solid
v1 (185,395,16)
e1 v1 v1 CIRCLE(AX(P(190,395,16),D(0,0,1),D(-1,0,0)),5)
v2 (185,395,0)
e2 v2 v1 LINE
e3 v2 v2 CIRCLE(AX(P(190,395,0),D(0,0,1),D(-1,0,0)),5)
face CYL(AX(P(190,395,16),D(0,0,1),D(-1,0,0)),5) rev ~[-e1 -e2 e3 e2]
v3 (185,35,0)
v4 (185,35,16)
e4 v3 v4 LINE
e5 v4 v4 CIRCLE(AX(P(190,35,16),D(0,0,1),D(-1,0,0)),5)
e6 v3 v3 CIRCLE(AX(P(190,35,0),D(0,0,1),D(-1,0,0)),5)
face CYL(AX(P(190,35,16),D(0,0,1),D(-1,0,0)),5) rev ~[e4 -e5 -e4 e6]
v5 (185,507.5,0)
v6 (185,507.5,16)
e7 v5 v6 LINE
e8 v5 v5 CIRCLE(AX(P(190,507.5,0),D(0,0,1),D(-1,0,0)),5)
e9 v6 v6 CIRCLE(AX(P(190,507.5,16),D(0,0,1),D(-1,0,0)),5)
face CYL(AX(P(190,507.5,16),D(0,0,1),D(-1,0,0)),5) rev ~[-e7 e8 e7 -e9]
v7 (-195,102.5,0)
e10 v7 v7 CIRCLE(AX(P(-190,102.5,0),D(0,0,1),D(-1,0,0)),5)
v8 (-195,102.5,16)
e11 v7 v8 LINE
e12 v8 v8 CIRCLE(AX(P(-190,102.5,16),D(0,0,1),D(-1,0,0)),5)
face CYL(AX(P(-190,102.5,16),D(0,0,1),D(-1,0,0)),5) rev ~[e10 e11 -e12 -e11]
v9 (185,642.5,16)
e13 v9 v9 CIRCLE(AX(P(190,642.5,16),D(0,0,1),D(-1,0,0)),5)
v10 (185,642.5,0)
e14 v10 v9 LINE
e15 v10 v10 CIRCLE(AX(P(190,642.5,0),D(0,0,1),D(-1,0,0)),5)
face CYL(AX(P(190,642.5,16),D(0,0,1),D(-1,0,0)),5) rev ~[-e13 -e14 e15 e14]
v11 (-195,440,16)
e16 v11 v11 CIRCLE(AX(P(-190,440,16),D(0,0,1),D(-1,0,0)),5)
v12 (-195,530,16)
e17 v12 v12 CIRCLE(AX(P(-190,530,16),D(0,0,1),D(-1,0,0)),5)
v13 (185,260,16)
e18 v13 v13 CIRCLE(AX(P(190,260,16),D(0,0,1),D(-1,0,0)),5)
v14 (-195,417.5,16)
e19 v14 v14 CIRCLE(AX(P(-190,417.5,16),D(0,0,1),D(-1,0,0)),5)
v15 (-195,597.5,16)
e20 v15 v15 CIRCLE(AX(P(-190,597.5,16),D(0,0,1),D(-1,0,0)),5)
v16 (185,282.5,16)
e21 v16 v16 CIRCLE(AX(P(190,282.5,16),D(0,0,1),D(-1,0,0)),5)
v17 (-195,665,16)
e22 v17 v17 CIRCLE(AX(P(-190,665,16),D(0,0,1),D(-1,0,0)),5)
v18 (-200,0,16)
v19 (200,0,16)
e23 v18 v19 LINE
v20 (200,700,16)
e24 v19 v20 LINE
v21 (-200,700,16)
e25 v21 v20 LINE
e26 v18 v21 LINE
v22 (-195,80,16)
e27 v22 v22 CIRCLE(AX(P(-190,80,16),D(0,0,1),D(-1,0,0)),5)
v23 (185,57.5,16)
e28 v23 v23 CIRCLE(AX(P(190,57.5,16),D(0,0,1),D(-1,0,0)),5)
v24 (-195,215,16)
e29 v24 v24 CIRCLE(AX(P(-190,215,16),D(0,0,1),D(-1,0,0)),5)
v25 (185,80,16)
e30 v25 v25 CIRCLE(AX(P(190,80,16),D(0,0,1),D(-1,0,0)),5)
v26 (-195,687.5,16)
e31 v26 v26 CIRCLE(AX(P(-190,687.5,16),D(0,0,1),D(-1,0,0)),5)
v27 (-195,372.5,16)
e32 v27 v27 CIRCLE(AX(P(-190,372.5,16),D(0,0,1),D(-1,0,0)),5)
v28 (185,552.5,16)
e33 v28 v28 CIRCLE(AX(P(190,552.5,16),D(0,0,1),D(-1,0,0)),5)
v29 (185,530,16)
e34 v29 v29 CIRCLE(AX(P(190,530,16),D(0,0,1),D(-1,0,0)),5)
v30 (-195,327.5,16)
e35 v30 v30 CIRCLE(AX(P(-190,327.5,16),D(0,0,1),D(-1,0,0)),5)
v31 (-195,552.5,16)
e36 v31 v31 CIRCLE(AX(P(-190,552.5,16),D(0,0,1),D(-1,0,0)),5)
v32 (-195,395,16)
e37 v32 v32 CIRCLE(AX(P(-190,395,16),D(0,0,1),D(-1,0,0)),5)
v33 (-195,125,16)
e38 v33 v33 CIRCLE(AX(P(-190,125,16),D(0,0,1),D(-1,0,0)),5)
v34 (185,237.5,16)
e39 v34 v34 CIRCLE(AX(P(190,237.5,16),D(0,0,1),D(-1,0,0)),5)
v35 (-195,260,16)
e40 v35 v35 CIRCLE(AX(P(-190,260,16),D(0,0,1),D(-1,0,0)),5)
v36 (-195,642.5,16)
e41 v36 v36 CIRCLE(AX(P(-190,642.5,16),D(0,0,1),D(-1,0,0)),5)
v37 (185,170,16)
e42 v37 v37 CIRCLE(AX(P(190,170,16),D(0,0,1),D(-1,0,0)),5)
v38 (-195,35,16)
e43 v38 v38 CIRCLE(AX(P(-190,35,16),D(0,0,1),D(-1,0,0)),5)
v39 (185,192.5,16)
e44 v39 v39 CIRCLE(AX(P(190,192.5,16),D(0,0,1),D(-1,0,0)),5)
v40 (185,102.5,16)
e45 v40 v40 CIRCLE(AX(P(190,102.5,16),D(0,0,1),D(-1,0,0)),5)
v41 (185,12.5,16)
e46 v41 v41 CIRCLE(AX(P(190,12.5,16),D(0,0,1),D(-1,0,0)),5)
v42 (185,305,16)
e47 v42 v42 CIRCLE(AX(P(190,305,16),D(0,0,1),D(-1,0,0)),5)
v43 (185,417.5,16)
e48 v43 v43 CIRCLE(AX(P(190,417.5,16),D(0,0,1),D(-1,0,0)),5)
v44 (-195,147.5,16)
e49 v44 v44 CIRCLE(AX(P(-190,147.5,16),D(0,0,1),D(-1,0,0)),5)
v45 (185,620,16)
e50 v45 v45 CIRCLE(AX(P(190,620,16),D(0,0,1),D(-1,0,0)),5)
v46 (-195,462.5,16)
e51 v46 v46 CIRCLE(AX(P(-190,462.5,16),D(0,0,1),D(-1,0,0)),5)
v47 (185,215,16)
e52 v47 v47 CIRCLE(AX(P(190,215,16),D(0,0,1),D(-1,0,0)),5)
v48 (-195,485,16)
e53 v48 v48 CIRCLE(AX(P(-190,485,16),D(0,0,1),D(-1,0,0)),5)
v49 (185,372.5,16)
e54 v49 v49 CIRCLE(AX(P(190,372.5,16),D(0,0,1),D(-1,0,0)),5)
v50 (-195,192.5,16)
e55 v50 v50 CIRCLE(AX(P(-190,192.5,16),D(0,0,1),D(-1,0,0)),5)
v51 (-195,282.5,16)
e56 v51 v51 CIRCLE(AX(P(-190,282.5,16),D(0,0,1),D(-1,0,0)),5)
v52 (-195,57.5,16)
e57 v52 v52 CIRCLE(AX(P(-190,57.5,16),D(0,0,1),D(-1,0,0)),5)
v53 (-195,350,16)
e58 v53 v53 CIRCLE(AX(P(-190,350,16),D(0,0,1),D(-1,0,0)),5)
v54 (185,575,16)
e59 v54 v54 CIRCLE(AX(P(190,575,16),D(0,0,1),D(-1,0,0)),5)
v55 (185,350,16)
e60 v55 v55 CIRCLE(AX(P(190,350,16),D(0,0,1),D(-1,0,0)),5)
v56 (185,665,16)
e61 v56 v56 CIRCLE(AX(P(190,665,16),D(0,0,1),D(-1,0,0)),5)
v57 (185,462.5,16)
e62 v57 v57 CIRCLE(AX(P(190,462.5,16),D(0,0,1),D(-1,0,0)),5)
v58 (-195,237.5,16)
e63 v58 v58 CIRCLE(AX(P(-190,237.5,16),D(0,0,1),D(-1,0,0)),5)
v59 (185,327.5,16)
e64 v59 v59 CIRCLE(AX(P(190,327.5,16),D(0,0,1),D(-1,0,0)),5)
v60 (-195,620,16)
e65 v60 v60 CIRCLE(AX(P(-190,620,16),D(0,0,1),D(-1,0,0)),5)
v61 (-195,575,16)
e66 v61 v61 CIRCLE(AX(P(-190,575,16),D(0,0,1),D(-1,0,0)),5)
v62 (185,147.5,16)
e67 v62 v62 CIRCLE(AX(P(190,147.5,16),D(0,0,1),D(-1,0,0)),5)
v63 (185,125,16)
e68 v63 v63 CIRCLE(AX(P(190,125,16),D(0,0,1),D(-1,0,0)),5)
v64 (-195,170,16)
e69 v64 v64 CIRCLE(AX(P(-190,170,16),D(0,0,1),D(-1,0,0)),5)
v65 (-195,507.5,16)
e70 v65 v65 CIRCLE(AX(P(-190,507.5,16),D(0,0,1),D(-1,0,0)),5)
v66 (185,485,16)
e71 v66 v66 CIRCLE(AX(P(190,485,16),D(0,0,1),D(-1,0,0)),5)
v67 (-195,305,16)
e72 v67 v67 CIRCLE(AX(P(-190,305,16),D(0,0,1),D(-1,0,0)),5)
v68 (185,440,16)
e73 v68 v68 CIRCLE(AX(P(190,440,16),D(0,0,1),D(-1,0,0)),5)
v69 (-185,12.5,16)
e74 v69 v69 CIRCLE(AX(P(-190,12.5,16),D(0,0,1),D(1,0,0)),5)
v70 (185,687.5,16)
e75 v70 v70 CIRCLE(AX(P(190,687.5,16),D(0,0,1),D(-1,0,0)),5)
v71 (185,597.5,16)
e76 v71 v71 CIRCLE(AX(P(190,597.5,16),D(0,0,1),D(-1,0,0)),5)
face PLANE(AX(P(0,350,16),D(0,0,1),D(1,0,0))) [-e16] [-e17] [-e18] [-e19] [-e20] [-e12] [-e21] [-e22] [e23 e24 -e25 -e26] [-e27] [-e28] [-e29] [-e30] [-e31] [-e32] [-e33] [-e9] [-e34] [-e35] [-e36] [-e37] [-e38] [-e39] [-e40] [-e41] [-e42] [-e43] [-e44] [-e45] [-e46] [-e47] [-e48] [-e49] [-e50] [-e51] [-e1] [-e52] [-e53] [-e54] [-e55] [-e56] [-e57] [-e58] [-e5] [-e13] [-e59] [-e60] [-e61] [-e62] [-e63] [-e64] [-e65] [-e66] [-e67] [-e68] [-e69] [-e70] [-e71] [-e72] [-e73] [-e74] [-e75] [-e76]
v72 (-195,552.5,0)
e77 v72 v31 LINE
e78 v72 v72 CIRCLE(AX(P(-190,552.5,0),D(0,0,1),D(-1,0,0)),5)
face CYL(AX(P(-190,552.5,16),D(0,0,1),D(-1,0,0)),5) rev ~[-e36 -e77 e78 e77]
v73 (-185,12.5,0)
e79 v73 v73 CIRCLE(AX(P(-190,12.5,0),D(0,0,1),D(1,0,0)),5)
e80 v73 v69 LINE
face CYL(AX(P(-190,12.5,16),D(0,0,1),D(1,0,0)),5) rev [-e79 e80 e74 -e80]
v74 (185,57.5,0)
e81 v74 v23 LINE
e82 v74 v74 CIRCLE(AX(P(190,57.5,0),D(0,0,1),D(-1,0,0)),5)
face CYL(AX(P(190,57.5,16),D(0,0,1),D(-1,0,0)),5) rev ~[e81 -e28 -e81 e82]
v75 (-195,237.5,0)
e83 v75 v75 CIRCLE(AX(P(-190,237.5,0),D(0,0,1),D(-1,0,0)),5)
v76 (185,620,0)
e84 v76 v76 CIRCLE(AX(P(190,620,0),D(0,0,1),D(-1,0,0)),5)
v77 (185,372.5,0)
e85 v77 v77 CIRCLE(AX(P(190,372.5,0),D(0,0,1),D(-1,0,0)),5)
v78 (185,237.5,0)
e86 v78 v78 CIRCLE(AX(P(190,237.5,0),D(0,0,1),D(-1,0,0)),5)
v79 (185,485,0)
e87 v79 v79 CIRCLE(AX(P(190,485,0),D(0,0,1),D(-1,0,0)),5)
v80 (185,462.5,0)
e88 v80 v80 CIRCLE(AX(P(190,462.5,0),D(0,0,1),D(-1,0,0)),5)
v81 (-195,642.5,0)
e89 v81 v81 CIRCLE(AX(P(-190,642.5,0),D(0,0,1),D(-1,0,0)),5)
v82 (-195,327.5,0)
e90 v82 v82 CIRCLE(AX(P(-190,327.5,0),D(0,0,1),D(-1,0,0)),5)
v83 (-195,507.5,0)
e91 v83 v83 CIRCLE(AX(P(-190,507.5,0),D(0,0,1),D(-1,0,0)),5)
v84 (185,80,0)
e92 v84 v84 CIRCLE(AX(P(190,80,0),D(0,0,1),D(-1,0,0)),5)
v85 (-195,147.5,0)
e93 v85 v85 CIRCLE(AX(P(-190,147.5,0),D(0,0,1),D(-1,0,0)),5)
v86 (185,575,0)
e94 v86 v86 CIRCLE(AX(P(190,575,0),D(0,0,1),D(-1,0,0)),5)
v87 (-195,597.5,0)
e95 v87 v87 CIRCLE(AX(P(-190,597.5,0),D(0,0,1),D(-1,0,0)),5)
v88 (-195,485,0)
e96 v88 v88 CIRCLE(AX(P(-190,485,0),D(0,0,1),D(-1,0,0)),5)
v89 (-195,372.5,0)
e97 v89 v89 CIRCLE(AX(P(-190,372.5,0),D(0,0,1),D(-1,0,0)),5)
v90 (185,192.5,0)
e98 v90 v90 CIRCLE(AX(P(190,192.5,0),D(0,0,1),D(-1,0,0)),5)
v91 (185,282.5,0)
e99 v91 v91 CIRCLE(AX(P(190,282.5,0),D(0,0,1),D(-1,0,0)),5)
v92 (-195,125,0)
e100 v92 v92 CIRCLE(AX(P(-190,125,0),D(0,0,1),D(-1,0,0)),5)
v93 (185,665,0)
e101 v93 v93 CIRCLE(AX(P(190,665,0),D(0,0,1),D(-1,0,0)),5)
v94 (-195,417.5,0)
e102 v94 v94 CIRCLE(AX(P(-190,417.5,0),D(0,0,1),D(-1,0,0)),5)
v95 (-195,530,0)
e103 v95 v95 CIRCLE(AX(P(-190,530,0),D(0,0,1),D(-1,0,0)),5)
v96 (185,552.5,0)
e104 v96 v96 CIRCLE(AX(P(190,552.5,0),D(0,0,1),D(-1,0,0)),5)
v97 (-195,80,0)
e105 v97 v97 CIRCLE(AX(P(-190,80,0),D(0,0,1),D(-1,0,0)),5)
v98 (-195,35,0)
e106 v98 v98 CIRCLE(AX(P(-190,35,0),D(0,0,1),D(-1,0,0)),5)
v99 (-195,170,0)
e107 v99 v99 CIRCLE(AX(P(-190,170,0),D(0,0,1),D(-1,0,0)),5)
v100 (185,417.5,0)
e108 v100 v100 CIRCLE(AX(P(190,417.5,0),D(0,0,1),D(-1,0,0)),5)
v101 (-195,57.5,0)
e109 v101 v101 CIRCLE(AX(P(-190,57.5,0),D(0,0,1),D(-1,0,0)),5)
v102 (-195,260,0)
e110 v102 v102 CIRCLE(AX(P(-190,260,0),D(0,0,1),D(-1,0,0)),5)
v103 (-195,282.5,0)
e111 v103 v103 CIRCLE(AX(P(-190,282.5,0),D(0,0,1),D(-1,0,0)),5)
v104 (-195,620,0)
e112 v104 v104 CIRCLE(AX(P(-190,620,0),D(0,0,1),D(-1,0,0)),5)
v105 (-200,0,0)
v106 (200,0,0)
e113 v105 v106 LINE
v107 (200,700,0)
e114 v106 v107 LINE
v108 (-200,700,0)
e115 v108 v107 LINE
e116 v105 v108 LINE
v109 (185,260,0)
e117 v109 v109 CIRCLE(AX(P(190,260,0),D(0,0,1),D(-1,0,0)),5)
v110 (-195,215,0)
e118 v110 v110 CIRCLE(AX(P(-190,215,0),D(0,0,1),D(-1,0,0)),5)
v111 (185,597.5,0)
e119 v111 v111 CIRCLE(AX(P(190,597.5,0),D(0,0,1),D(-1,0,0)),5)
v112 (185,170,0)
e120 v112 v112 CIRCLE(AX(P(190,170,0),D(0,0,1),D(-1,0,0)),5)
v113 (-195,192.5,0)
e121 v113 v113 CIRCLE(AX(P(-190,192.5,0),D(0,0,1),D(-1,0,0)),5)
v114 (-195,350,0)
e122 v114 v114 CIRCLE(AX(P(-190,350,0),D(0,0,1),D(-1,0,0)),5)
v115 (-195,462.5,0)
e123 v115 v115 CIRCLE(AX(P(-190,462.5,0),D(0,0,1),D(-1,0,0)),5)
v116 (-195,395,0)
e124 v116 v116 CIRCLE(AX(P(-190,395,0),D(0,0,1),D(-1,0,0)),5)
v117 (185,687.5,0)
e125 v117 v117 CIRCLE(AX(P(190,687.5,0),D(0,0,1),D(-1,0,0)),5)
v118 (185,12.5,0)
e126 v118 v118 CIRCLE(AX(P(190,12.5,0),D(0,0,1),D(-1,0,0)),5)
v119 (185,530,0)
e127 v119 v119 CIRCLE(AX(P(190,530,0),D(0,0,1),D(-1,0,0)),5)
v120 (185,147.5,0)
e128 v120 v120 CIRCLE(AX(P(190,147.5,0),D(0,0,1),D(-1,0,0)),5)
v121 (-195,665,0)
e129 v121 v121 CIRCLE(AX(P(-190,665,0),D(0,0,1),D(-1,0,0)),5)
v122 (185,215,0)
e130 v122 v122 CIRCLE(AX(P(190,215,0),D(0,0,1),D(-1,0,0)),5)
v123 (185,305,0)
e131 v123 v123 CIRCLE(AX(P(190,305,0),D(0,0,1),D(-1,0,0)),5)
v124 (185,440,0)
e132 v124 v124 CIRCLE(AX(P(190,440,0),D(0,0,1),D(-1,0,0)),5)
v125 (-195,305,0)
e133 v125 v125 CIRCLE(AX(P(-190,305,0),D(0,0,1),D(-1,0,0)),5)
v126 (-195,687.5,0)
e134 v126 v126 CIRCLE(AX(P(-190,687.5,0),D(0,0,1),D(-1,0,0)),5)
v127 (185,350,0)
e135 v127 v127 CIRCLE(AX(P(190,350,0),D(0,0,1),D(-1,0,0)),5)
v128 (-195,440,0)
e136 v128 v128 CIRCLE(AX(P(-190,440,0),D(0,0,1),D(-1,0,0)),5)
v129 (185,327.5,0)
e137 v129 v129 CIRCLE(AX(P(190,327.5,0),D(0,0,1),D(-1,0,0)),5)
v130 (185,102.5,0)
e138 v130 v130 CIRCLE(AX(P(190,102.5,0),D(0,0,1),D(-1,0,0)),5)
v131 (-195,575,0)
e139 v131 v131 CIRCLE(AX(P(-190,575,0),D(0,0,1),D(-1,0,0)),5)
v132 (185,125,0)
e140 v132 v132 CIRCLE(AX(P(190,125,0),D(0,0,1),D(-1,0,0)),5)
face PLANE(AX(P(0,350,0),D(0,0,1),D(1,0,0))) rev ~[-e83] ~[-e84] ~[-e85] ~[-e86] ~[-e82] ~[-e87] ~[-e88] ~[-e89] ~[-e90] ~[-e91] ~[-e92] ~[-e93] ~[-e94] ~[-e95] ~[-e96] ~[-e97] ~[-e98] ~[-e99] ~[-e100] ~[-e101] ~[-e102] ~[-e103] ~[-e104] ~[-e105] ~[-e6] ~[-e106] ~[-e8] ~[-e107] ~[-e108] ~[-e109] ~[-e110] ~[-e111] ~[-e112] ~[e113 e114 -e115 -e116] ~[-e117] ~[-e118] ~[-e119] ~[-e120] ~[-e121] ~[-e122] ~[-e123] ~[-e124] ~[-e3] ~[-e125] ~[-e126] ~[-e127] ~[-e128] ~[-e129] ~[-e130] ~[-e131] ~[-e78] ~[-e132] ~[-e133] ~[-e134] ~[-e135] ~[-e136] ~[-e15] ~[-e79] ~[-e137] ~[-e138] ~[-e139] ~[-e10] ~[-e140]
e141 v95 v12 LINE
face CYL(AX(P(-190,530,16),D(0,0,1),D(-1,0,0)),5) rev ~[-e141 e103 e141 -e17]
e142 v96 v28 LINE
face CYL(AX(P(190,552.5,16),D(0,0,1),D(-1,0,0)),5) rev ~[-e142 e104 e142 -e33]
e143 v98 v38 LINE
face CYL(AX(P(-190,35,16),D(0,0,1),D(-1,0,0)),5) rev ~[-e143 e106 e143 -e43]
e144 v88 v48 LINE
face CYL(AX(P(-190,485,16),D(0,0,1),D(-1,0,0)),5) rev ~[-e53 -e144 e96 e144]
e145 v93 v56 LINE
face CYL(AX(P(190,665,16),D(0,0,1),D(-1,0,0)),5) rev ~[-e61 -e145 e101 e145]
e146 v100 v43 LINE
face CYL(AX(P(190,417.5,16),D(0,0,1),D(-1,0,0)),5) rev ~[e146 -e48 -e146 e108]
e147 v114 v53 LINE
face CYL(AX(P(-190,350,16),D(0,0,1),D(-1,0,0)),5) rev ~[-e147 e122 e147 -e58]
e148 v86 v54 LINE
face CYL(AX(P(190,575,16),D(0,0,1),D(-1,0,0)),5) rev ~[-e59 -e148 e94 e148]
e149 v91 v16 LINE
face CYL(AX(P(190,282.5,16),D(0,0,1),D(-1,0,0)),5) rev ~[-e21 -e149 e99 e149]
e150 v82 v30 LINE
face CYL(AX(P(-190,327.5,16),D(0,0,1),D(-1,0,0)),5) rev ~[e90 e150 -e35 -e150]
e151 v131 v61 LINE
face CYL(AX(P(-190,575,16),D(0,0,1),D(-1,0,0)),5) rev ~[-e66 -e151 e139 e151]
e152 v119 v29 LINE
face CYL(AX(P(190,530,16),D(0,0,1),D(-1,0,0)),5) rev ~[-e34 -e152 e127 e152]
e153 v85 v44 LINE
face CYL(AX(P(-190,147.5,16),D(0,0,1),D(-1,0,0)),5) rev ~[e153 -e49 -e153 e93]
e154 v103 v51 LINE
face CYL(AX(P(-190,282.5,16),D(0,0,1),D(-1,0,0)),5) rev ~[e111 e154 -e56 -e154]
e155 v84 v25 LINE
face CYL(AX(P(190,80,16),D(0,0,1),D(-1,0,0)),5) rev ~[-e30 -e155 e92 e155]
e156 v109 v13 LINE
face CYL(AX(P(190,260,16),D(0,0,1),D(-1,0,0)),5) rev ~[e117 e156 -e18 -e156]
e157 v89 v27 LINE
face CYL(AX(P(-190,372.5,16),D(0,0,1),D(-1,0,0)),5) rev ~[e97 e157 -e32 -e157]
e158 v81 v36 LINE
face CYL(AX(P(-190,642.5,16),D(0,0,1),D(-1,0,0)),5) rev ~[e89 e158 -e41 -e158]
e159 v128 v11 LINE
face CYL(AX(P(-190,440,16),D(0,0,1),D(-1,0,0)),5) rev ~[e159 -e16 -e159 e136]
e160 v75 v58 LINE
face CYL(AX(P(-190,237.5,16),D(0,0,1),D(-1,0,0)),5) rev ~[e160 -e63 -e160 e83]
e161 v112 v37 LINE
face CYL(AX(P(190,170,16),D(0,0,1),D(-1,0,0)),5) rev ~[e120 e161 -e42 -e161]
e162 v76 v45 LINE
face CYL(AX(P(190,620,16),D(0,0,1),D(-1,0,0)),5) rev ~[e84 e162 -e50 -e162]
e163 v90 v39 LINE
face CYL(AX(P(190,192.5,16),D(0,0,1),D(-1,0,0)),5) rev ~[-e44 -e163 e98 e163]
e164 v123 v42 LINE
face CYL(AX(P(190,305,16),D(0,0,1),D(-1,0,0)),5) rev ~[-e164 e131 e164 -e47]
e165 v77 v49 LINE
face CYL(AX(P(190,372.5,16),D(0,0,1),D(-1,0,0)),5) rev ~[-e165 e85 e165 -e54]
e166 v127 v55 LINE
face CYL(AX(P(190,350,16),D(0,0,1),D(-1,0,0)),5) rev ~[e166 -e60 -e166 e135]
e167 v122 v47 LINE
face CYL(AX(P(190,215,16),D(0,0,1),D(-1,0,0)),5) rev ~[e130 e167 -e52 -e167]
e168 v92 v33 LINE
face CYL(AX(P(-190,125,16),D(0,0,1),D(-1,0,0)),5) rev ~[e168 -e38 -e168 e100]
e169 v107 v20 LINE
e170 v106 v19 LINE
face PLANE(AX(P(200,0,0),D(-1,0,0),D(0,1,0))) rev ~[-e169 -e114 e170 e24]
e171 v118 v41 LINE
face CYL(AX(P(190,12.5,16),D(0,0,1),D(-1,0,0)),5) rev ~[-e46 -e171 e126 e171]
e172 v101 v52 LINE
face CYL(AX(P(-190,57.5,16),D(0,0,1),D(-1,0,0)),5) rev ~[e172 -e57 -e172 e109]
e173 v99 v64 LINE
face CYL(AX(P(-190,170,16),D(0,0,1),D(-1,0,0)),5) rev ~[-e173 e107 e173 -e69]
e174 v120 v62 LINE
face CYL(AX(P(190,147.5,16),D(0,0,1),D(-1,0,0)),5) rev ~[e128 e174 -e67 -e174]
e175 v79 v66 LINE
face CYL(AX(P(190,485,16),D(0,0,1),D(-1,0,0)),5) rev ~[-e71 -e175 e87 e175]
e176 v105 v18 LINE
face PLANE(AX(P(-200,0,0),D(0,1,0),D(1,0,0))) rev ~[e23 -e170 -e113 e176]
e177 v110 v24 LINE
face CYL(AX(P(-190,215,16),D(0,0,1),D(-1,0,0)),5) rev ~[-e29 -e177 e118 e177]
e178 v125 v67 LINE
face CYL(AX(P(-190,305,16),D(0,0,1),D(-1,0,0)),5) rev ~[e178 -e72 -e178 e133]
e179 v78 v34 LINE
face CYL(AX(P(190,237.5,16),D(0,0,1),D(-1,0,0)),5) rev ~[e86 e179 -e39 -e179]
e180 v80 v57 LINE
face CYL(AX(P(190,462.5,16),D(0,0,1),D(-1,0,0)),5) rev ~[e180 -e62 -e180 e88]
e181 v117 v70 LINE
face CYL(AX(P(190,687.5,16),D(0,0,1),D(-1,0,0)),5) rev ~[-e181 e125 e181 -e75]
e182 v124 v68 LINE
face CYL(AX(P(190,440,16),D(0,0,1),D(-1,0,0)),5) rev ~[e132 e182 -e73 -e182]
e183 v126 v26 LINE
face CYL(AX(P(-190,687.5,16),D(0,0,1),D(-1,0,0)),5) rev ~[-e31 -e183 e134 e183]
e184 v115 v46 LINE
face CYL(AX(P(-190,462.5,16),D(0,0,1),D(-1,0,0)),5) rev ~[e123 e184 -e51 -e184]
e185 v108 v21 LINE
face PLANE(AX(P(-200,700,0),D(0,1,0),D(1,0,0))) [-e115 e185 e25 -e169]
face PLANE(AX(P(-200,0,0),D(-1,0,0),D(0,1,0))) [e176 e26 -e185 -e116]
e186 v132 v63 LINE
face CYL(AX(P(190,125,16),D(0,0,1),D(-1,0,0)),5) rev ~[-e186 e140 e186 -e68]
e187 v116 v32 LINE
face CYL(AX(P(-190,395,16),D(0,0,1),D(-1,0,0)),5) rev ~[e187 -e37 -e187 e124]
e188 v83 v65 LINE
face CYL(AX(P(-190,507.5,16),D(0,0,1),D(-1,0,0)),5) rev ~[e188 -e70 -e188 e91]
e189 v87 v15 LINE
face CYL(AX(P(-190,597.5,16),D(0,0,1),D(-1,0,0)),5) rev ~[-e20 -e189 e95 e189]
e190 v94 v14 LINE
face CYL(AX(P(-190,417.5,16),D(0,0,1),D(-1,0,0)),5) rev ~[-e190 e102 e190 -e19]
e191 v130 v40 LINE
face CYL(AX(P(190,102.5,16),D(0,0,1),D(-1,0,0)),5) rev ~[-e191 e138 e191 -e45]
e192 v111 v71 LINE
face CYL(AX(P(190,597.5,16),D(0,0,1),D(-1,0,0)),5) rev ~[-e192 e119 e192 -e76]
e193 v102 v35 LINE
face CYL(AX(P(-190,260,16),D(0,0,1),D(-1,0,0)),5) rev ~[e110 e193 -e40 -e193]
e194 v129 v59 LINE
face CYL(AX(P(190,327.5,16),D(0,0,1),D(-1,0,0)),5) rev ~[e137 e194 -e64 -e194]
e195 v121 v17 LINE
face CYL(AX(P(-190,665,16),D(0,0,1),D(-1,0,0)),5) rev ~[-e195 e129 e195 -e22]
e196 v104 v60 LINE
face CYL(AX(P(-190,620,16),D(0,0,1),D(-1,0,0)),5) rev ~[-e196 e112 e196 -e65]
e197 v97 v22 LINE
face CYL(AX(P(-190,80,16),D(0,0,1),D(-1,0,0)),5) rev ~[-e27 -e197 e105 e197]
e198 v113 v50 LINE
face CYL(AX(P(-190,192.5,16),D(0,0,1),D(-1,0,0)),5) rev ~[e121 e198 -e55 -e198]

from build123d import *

# Parameters (mm, degrees)
SKETCH1_W                = 400
SKETCH1_H                = 700
BOSS_EXTRUDE1_DEPTH      = 16
SKETCH2_R                = 5
CUT_EXTRUDE1_DEPTH       = 729.186789224
LPATTERN1_COUNT          = 31
LPATTERN1_PITCH          = 22.5
MIRROR1_COPY_1_SKETCH_R  = 5
MIRROR1_COPY_1_DEPTH     = 729.186789224
MIRROR1_COPY_2_SKETCH_R  = 5
MIRROR1_COPY_2_DEPTH     = 729.186789224
MIRROR1_COPY_3_SKETCH_R  = 5
MIRROR1_COPY_3_DEPTH     = 729.186789224
MIRROR1_COPY_4_SKETCH_R  = 5
MIRROR1_COPY_4_DEPTH     = 729.186789224
MIRROR1_COPY_5_SKETCH_R  = 5
MIRROR1_COPY_5_DEPTH     = 729.186789224
MIRROR1_COPY_6_SKETCH_R  = 5
MIRROR1_COPY_6_DEPTH     = 729.186789224
MIRROR1_COPY_7_SKETCH_R  = 5
MIRROR1_COPY_7_DEPTH     = 729.186789224
MIRROR1_COPY_8_SKETCH_R  = 5
MIRROR1_COPY_8_DEPTH     = 729.186789224
MIRROR1_COPY_9_SKETCH_R  = 5
MIRROR1_COPY_9_DEPTH     = 729.186789224
MIRROR1_COPY_10_SKETCH_R = 5
MIRROR1_COPY_10_DEPTH    = 729.186789224
MIRROR1_COPY_11_SKETCH_R = 5
MIRROR1_COPY_11_DEPTH    = 729.186789224
MIRROR1_COPY_12_SKETCH_R = 5
MIRROR1_COPY_12_DEPTH    = 729.186789224
MIRROR1_COPY_13_SKETCH_R = 5
MIRROR1_COPY_13_DEPTH    = 729.186789224
MIRROR1_COPY_14_SKETCH_R = 5
MIRROR1_COPY_14_DEPTH    = 729.186789224
MIRROR1_COPY_15_SKETCH_R = 5
MIRROR1_COPY_15_DEPTH    = 729.186789224
MIRROR1_COPY_16_SKETCH_R = 5
MIRROR1_COPY_16_DEPTH    = 729.186789224
MIRROR1_COPY_17_SKETCH_R = 5
MIRROR1_COPY_17_DEPTH    = 729.186789224
MIRROR1_COPY_18_SKETCH_R = 5
MIRROR1_COPY_18_DEPTH    = 729.186789224
MIRROR1_COPY_19_SKETCH_R = 5
MIRROR1_COPY_19_DEPTH    = 729.186789224
MIRROR1_COPY_20_SKETCH_R = 5
MIRROR1_COPY_20_DEPTH    = 729.186789224
MIRROR1_COPY_21_SKETCH_R = 5
MIRROR1_COPY_21_DEPTH    = 729.186789224
MIRROR1_COPY_22_SKETCH_R = 5
MIRROR1_COPY_22_DEPTH    = 729.186789224
MIRROR1_COPY_23_SKETCH_R = 5
MIRROR1_COPY_23_DEPTH    = 729.186789224
MIRROR1_COPY_24_SKETCH_R = 5
MIRROR1_COPY_24_DEPTH    = 729.186789224
MIRROR1_COPY_25_SKETCH_R = 5
MIRROR1_COPY_25_DEPTH    = 729.186789224
MIRROR1_COPY_26_SKETCH_R = 5
MIRROR1_COPY_26_DEPTH    = 729.186789224
MIRROR1_COPY_27_SKETCH_R = 5
MIRROR1_COPY_27_DEPTH    = 729.186789224
MIRROR1_COPY_28_SKETCH_R = 5
MIRROR1_COPY_28_DEPTH    = 729.186789224
MIRROR1_COPY_29_SKETCH_R = 5
MIRROR1_COPY_29_DEPTH    = 729.186789224
MIRROR1_COPY_30_SKETCH_R = 5
MIRROR1_COPY_30_DEPTH    = 729.186789224


with BuildPart() as part:
    # Sketch1 → Boss-Extrude1 (new body)
    with BuildSketch(Plane.XY):
        with Locations((0, 350)):
            Rectangle(SKETCH1_W, SKETCH1_H)
    extrude(amount=BOSS_EXTRUDE1_DEPTH)

    # Sketch2 → Cut-Extrude1 (cut, symmetric)
    with BuildSketch(Plane.XY.offset(16)):
        with Locations(Location((190, 12.5, 0), (0, 0, 180))):
            Circle(SKETCH2_R)
    cut_extrude1 = extrude(amount=CUT_EXTRUDE1_DEPTH, both=True, mode=Mode.SUBTRACT)

    # LPattern1: Cut-Extrude1 ×31
    with Locations(*[(0, i * LPATTERN1_PITCH, 0) for i in range(1, LPATTERN1_COUNT)]):
        add(cut_extrude1, mode=Mode.SUBTRACT)

    # Mirror1: Cut-Extrude1 across plane
    add(cut_extrude1.mirror(Plane(origin=(0, 0, 0), x_dir=(0, 0, 1), z_dir=(1, 0, 0))), mode=Mode.SUBTRACT)

    # Mirror1 copy 1 sketch → Mirror1 copy 1 (cut, symmetric)
    with BuildSketch(Plane(origin=(0, 22.5, 16), x_dir=(-1, 0, 0), z_dir=(0, 0, 1))):
        with Locations((190, -12.5)):
            Circle(MIRROR1_COPY_1_SKETCH_R)
    extrude(amount=MIRROR1_COPY_1_DEPTH, both=True, mode=Mode.SUBTRACT)

    # Mirror1 copy 2 sketch → Mirror1 copy 2 (cut, symmetric)
    with BuildSketch(Plane(origin=(0, 45, 16), x_dir=(-1, 0, 0), z_dir=(0, 0, 1))):
        with Locations((190, -12.5)):
            Circle(MIRROR1_COPY_2_SKETCH_R)
    extrude(amount=MIRROR1_COPY_2_DEPTH, both=True, mode=Mode.SUBTRACT)

    # Mirror1 copy 3 sketch → Mirror1 copy 3 (cut, symmetric)
    with BuildSketch(Plane(origin=(0, 67.5, 16), x_dir=(-1, 0, 0), z_dir=(0, 0, 1))):
        with Locations((190, -12.5)):
            Circle(MIRROR1_COPY_3_SKETCH_R)
    extrude(amount=MIRROR1_COPY_3_DEPTH, both=True, mode=Mode.SUBTRACT)

    # Mirror1 copy 4 sketch → Mirror1 copy 4 (cut, symmetric)
    with BuildSketch(Plane(origin=(0, 90, 16), x_dir=(-1, 0, 0), z_dir=(0, 0, 1))):
        with Locations((190, -12.5)):
            Circle(MIRROR1_COPY_4_SKETCH_R)
    extrude(amount=MIRROR1_COPY_4_DEPTH, both=True, mode=Mode.SUBTRACT)

    # Mirror1 copy 5 sketch → Mirror1 copy 5 (cut, symmetric)
    with BuildSketch(Plane(origin=(0, 112.5, 16), x_dir=(-1, 0, 0), z_dir=(0, 0, 1))):
        with Locations((190, -12.5)):
            Circle(MIRROR1_COPY_5_SKETCH_R)
    extrude(amount=MIRROR1_COPY_5_DEPTH, both=True, mode=Mode.SUBTRACT)

    # Mirror1 copy 6 sketch → Mirror1 copy 6 (cut, symmetric)
    with BuildSketch(Plane(origin=(0, 135, 16), x_dir=(-1, 0, 0), z_dir=(0, 0, 1))):
        with Locations((190, -12.5)):
            Circle(MIRROR1_COPY_6_SKETCH_R)
    extrude(amount=MIRROR1_COPY_6_DEPTH, both=True, mode=Mode.SUBTRACT)

    # Mirror1 copy 7 sketch → Mirror1 copy 7 (cut, symmetric)
    with BuildSketch(Plane(origin=(0, 157.5, 16), x_dir=(-1, 0, 0), z_dir=(0, 0, 1))):
        with Locations((190, -12.5)):
            Circle(MIRROR1_COPY_7_SKETCH_R)
    extrude(amount=MIRROR1_COPY_7_DEPTH, both=True, mode=Mode.SUBTRACT)

    # Mirror1 copy 8 sketch → Mirror1 copy 8 (cut, symmetric)
    with BuildSketch(Plane(origin=(0, 180, 16), x_dir=(-1, 0, 0), z_dir=(0, 0, 1))):
        with Locations((190, -12.5)):
            Circle(MIRROR1_COPY_8_SKETCH_R)
    extrude(amount=MIRROR1_COPY_8_DEPTH, both=True, mode=Mode.SUBTRACT)

    # Mirror1 copy 9 sketch → Mirror1 copy 9 (cut, symmetric)
    with BuildSketch(Plane(origin=(0, 202.5, 16), x_dir=(-1, 0, 0), z_dir=(0, 0, 1))):
        with Locations((190, -12.5)):
            Circle(MIRROR1_COPY_9_SKETCH_R)
    extrude(amount=MIRROR1_COPY_9_DEPTH, both=True, mode=Mode.SUBTRACT)

    # Mirror1 copy 10 sketch → Mirror1 copy 10 (cut, symmetric)
    with BuildSketch(Plane(origin=(0, 225, 16), x_dir=(-1, 0, 0), z_dir=(0, 0, 1))):
        with Locations((190, -12.5)):
            Circle(MIRROR1_COPY_10_SKETCH_R)
    extrude(amount=MIRROR1_COPY_10_DEPTH, both=True, mode=Mode.SUBTRACT)

    # Mirror1 copy 11 sketch → Mirror1 copy 11 (cut, symmetric)
    with BuildSketch(Plane(origin=(0, 247.5, 16), x_dir=(-1, 0, 0), z_dir=(0, 0, 1))):
        with Locations((190, -12.5)):
            Circle(MIRROR1_COPY_11_SKETCH_R)
    extrude(amount=MIRROR1_COPY_11_DEPTH, both=True, mode=Mode.SUBTRACT)

    # Mirror1 copy 12 sketch → Mirror1 copy 12 (cut, symmetric)
    with BuildSketch(Plane(origin=(0, 270, 16), x_dir=(-1, 0, 0), z_dir=(0, 0, 1))):
        with Locations((190, -12.5)):
            Circle(MIRROR1_COPY_12_SKETCH_R)
    extrude(amount=MIRROR1_COPY_12_DEPTH, both=True, mode=Mode.SUBTRACT)

    # Mirror1 copy 13 sketch → Mirror1 copy 13 (cut, symmetric)
    with BuildSketch(Plane(origin=(0, 292.5, 16), x_dir=(-1, 0, 0), z_dir=(0, 0, 1))):
        with Locations((190, -12.5)):
            Circle(MIRROR1_COPY_13_SKETCH_R)
    extrude(amount=MIRROR1_COPY_13_DEPTH, both=True, mode=Mode.SUBTRACT)

    # Mirror1 copy 14 sketch → Mirror1 copy 14 (cut, symmetric)
    with BuildSketch(Plane(origin=(0, 315, 16), x_dir=(-1, 0, 0), z_dir=(0, 0, 1))):
        with Locations((190, -12.5)):
            Circle(MIRROR1_COPY_14_SKETCH_R)
    extrude(amount=MIRROR1_COPY_14_DEPTH, both=True, mode=Mode.SUBTRACT)

    # Mirror1 copy 15 sketch → Mirror1 copy 15 (cut, symmetric)
    with BuildSketch(Plane(origin=(0, 337.5, 16), x_dir=(-1, 0, 0), z_dir=(0, 0, 1))):
        with Locations((190, -12.5)):
            Circle(MIRROR1_COPY_15_SKETCH_R)
    extrude(amount=MIRROR1_COPY_15_DEPTH, both=True, mode=Mode.SUBTRACT)

    # Mirror1 copy 16 sketch → Mirror1 copy 16 (cut, symmetric)
    with BuildSketch(Plane(origin=(0, 360, 16), x_dir=(-1, 0, 0), z_dir=(0, 0, 1))):
        with Locations((190, -12.5)):
            Circle(MIRROR1_COPY_16_SKETCH_R)
    extrude(amount=MIRROR1_COPY_16_DEPTH, both=True, mode=Mode.SUBTRACT)

    # Mirror1 copy 17 sketch → Mirror1 copy 17 (cut, symmetric)
    with BuildSketch(Plane(origin=(0, 382.5, 16), x_dir=(-1, 0, 0), z_dir=(0, 0, 1))):
        with Locations((190, -12.5)):
            Circle(MIRROR1_COPY_17_SKETCH_R)
    extrude(amount=MIRROR1_COPY_17_DEPTH, both=True, mode=Mode.SUBTRACT)

    # Mirror1 copy 18 sketch → Mirror1 copy 18 (cut, symmetric)
    with BuildSketch(Plane(origin=(0, 405, 16), x_dir=(-1, 0, 0), z_dir=(0, 0, 1))):
        with Locations((190, -12.5)):
            Circle(MIRROR1_COPY_18_SKETCH_R)
    extrude(amount=MIRROR1_COPY_18_DEPTH, both=True, mode=Mode.SUBTRACT)

    # Mirror1 copy 19 sketch → Mirror1 copy 19 (cut, symmetric)
    with BuildSketch(Plane(origin=(0, 427.5, 16), x_dir=(-1, 0, 0), z_dir=(0, 0, 1))):
        with Locations((190, -12.5)):
            Circle(MIRROR1_COPY_19_SKETCH_R)
    extrude(amount=MIRROR1_COPY_19_DEPTH, both=True, mode=Mode.SUBTRACT)

    # Mirror1 copy 20 sketch → Mirror1 copy 20 (cut, symmetric)
    with BuildSketch(Plane(origin=(0, 450, 16), x_dir=(-1, 0, 0), z_dir=(0, 0, 1))):
        with Locations((190, -12.5)):
            Circle(MIRROR1_COPY_20_SKETCH_R)
    extrude(amount=MIRROR1_COPY_20_DEPTH, both=True, mode=Mode.SUBTRACT)

    # Mirror1 copy 21 sketch → Mirror1 copy 21 (cut, symmetric)
    with BuildSketch(Plane(origin=(0, 472.5, 16), x_dir=(-1, 0, 0), z_dir=(0, 0, 1))):
        with Locations((190, -12.5)):
            Circle(MIRROR1_COPY_21_SKETCH_R)
    extrude(amount=MIRROR1_COPY_21_DEPTH, both=True, mode=Mode.SUBTRACT)

    # Mirror1 copy 22 sketch → Mirror1 copy 22 (cut, symmetric)
    with BuildSketch(Plane(origin=(0, 495, 16), x_dir=(-1, 0, 0), z_dir=(0, 0, 1))):
        with Locations((190, -12.5)):
            Circle(MIRROR1_COPY_22_SKETCH_R)
    extrude(amount=MIRROR1_COPY_22_DEPTH, both=True, mode=Mode.SUBTRACT)

    # Mirror1 copy 23 sketch → Mirror1 copy 23 (cut, symmetric)
    with BuildSketch(Plane(origin=(0, 517.5, 16), x_dir=(-1, 0, 0), z_dir=(0, 0, 1))):
        with Locations((190, -12.5)):
            Circle(MIRROR1_COPY_23_SKETCH_R)
    extrude(amount=MIRROR1_COPY_23_DEPTH, both=True, mode=Mode.SUBTRACT)

    # Mirror1 copy 24 sketch → Mirror1 copy 24 (cut, symmetric)
    with BuildSketch(Plane(origin=(0, 540, 16), x_dir=(-1, 0, 0), z_dir=(0, 0, 1))):
        with Locations((190, -12.5)):
            Circle(MIRROR1_COPY_24_SKETCH_R)
    extrude(amount=MIRROR1_COPY_24_DEPTH, both=True, mode=Mode.SUBTRACT)

    # Mirror1 copy 25 sketch → Mirror1 copy 25 (cut, symmetric)
    with BuildSketch(Plane(origin=(0, 562.5, 16), x_dir=(-1, 0, 0), z_dir=(0, 0, 1))):
        with Locations((190, -12.5)):
            Circle(MIRROR1_COPY_25_SKETCH_R)
    extrude(amount=MIRROR1_COPY_25_DEPTH, both=True, mode=Mode.SUBTRACT)

    # Mirror1 copy 26 sketch → Mirror1 copy 26 (cut, symmetric)
    with BuildSketch(Plane(origin=(0, 585, 16), x_dir=(-1, 0, 0), z_dir=(0, 0, 1))):
        with Locations((190, -12.5)):
            Circle(MIRROR1_COPY_26_SKETCH_R)
    extrude(amount=MIRROR1_COPY_26_DEPTH, both=True, mode=Mode.SUBTRACT)

    # Mirror1 copy 27 sketch → Mirror1 copy 27 (cut, symmetric)
    with BuildSketch(Plane(origin=(0, 607.5, 16), x_dir=(-1, 0, 0), z_dir=(0, 0, 1))):
        with Locations((190, -12.5)):
            Circle(MIRROR1_COPY_27_SKETCH_R)
    extrude(amount=MIRROR1_COPY_27_DEPTH, both=True, mode=Mode.SUBTRACT)

    # Mirror1 copy 28 sketch → Mirror1 copy 28 (cut, symmetric)
    with BuildSketch(Plane(origin=(0, 630, 16), x_dir=(-1, 0, 0), z_dir=(0, 0, 1))):
        with Locations((190, -12.5)):
            Circle(MIRROR1_COPY_28_SKETCH_R)
    extrude(amount=MIRROR1_COPY_28_DEPTH, both=True, mode=Mode.SUBTRACT)

    # Mirror1 copy 29 sketch → Mirror1 copy 29 (cut, symmetric)
    with BuildSketch(Plane(origin=(0, 652.5, 16), x_dir=(-1, 0, 0), z_dir=(0, 0, 1))):
        with Locations((190, -12.5)):
            Circle(MIRROR1_COPY_29_SKETCH_R)
    extrude(amount=MIRROR1_COPY_29_DEPTH, both=True, mode=Mode.SUBTRACT)

    # Mirror1 copy 30 sketch → Mirror1 copy 30 (cut, symmetric)
    with BuildSketch(Plane(origin=(0, 675, 16), x_dir=(-1, 0, 0), z_dir=(0, 0, 1))):
        with Locations((190, -12.5)):
            Circle(MIRROR1_COPY_30_SKETCH_R)
    extrude(amount=MIRROR1_COPY_30_DEPTH, both=True, mode=Mode.SUBTRACT)


solid = part.part
